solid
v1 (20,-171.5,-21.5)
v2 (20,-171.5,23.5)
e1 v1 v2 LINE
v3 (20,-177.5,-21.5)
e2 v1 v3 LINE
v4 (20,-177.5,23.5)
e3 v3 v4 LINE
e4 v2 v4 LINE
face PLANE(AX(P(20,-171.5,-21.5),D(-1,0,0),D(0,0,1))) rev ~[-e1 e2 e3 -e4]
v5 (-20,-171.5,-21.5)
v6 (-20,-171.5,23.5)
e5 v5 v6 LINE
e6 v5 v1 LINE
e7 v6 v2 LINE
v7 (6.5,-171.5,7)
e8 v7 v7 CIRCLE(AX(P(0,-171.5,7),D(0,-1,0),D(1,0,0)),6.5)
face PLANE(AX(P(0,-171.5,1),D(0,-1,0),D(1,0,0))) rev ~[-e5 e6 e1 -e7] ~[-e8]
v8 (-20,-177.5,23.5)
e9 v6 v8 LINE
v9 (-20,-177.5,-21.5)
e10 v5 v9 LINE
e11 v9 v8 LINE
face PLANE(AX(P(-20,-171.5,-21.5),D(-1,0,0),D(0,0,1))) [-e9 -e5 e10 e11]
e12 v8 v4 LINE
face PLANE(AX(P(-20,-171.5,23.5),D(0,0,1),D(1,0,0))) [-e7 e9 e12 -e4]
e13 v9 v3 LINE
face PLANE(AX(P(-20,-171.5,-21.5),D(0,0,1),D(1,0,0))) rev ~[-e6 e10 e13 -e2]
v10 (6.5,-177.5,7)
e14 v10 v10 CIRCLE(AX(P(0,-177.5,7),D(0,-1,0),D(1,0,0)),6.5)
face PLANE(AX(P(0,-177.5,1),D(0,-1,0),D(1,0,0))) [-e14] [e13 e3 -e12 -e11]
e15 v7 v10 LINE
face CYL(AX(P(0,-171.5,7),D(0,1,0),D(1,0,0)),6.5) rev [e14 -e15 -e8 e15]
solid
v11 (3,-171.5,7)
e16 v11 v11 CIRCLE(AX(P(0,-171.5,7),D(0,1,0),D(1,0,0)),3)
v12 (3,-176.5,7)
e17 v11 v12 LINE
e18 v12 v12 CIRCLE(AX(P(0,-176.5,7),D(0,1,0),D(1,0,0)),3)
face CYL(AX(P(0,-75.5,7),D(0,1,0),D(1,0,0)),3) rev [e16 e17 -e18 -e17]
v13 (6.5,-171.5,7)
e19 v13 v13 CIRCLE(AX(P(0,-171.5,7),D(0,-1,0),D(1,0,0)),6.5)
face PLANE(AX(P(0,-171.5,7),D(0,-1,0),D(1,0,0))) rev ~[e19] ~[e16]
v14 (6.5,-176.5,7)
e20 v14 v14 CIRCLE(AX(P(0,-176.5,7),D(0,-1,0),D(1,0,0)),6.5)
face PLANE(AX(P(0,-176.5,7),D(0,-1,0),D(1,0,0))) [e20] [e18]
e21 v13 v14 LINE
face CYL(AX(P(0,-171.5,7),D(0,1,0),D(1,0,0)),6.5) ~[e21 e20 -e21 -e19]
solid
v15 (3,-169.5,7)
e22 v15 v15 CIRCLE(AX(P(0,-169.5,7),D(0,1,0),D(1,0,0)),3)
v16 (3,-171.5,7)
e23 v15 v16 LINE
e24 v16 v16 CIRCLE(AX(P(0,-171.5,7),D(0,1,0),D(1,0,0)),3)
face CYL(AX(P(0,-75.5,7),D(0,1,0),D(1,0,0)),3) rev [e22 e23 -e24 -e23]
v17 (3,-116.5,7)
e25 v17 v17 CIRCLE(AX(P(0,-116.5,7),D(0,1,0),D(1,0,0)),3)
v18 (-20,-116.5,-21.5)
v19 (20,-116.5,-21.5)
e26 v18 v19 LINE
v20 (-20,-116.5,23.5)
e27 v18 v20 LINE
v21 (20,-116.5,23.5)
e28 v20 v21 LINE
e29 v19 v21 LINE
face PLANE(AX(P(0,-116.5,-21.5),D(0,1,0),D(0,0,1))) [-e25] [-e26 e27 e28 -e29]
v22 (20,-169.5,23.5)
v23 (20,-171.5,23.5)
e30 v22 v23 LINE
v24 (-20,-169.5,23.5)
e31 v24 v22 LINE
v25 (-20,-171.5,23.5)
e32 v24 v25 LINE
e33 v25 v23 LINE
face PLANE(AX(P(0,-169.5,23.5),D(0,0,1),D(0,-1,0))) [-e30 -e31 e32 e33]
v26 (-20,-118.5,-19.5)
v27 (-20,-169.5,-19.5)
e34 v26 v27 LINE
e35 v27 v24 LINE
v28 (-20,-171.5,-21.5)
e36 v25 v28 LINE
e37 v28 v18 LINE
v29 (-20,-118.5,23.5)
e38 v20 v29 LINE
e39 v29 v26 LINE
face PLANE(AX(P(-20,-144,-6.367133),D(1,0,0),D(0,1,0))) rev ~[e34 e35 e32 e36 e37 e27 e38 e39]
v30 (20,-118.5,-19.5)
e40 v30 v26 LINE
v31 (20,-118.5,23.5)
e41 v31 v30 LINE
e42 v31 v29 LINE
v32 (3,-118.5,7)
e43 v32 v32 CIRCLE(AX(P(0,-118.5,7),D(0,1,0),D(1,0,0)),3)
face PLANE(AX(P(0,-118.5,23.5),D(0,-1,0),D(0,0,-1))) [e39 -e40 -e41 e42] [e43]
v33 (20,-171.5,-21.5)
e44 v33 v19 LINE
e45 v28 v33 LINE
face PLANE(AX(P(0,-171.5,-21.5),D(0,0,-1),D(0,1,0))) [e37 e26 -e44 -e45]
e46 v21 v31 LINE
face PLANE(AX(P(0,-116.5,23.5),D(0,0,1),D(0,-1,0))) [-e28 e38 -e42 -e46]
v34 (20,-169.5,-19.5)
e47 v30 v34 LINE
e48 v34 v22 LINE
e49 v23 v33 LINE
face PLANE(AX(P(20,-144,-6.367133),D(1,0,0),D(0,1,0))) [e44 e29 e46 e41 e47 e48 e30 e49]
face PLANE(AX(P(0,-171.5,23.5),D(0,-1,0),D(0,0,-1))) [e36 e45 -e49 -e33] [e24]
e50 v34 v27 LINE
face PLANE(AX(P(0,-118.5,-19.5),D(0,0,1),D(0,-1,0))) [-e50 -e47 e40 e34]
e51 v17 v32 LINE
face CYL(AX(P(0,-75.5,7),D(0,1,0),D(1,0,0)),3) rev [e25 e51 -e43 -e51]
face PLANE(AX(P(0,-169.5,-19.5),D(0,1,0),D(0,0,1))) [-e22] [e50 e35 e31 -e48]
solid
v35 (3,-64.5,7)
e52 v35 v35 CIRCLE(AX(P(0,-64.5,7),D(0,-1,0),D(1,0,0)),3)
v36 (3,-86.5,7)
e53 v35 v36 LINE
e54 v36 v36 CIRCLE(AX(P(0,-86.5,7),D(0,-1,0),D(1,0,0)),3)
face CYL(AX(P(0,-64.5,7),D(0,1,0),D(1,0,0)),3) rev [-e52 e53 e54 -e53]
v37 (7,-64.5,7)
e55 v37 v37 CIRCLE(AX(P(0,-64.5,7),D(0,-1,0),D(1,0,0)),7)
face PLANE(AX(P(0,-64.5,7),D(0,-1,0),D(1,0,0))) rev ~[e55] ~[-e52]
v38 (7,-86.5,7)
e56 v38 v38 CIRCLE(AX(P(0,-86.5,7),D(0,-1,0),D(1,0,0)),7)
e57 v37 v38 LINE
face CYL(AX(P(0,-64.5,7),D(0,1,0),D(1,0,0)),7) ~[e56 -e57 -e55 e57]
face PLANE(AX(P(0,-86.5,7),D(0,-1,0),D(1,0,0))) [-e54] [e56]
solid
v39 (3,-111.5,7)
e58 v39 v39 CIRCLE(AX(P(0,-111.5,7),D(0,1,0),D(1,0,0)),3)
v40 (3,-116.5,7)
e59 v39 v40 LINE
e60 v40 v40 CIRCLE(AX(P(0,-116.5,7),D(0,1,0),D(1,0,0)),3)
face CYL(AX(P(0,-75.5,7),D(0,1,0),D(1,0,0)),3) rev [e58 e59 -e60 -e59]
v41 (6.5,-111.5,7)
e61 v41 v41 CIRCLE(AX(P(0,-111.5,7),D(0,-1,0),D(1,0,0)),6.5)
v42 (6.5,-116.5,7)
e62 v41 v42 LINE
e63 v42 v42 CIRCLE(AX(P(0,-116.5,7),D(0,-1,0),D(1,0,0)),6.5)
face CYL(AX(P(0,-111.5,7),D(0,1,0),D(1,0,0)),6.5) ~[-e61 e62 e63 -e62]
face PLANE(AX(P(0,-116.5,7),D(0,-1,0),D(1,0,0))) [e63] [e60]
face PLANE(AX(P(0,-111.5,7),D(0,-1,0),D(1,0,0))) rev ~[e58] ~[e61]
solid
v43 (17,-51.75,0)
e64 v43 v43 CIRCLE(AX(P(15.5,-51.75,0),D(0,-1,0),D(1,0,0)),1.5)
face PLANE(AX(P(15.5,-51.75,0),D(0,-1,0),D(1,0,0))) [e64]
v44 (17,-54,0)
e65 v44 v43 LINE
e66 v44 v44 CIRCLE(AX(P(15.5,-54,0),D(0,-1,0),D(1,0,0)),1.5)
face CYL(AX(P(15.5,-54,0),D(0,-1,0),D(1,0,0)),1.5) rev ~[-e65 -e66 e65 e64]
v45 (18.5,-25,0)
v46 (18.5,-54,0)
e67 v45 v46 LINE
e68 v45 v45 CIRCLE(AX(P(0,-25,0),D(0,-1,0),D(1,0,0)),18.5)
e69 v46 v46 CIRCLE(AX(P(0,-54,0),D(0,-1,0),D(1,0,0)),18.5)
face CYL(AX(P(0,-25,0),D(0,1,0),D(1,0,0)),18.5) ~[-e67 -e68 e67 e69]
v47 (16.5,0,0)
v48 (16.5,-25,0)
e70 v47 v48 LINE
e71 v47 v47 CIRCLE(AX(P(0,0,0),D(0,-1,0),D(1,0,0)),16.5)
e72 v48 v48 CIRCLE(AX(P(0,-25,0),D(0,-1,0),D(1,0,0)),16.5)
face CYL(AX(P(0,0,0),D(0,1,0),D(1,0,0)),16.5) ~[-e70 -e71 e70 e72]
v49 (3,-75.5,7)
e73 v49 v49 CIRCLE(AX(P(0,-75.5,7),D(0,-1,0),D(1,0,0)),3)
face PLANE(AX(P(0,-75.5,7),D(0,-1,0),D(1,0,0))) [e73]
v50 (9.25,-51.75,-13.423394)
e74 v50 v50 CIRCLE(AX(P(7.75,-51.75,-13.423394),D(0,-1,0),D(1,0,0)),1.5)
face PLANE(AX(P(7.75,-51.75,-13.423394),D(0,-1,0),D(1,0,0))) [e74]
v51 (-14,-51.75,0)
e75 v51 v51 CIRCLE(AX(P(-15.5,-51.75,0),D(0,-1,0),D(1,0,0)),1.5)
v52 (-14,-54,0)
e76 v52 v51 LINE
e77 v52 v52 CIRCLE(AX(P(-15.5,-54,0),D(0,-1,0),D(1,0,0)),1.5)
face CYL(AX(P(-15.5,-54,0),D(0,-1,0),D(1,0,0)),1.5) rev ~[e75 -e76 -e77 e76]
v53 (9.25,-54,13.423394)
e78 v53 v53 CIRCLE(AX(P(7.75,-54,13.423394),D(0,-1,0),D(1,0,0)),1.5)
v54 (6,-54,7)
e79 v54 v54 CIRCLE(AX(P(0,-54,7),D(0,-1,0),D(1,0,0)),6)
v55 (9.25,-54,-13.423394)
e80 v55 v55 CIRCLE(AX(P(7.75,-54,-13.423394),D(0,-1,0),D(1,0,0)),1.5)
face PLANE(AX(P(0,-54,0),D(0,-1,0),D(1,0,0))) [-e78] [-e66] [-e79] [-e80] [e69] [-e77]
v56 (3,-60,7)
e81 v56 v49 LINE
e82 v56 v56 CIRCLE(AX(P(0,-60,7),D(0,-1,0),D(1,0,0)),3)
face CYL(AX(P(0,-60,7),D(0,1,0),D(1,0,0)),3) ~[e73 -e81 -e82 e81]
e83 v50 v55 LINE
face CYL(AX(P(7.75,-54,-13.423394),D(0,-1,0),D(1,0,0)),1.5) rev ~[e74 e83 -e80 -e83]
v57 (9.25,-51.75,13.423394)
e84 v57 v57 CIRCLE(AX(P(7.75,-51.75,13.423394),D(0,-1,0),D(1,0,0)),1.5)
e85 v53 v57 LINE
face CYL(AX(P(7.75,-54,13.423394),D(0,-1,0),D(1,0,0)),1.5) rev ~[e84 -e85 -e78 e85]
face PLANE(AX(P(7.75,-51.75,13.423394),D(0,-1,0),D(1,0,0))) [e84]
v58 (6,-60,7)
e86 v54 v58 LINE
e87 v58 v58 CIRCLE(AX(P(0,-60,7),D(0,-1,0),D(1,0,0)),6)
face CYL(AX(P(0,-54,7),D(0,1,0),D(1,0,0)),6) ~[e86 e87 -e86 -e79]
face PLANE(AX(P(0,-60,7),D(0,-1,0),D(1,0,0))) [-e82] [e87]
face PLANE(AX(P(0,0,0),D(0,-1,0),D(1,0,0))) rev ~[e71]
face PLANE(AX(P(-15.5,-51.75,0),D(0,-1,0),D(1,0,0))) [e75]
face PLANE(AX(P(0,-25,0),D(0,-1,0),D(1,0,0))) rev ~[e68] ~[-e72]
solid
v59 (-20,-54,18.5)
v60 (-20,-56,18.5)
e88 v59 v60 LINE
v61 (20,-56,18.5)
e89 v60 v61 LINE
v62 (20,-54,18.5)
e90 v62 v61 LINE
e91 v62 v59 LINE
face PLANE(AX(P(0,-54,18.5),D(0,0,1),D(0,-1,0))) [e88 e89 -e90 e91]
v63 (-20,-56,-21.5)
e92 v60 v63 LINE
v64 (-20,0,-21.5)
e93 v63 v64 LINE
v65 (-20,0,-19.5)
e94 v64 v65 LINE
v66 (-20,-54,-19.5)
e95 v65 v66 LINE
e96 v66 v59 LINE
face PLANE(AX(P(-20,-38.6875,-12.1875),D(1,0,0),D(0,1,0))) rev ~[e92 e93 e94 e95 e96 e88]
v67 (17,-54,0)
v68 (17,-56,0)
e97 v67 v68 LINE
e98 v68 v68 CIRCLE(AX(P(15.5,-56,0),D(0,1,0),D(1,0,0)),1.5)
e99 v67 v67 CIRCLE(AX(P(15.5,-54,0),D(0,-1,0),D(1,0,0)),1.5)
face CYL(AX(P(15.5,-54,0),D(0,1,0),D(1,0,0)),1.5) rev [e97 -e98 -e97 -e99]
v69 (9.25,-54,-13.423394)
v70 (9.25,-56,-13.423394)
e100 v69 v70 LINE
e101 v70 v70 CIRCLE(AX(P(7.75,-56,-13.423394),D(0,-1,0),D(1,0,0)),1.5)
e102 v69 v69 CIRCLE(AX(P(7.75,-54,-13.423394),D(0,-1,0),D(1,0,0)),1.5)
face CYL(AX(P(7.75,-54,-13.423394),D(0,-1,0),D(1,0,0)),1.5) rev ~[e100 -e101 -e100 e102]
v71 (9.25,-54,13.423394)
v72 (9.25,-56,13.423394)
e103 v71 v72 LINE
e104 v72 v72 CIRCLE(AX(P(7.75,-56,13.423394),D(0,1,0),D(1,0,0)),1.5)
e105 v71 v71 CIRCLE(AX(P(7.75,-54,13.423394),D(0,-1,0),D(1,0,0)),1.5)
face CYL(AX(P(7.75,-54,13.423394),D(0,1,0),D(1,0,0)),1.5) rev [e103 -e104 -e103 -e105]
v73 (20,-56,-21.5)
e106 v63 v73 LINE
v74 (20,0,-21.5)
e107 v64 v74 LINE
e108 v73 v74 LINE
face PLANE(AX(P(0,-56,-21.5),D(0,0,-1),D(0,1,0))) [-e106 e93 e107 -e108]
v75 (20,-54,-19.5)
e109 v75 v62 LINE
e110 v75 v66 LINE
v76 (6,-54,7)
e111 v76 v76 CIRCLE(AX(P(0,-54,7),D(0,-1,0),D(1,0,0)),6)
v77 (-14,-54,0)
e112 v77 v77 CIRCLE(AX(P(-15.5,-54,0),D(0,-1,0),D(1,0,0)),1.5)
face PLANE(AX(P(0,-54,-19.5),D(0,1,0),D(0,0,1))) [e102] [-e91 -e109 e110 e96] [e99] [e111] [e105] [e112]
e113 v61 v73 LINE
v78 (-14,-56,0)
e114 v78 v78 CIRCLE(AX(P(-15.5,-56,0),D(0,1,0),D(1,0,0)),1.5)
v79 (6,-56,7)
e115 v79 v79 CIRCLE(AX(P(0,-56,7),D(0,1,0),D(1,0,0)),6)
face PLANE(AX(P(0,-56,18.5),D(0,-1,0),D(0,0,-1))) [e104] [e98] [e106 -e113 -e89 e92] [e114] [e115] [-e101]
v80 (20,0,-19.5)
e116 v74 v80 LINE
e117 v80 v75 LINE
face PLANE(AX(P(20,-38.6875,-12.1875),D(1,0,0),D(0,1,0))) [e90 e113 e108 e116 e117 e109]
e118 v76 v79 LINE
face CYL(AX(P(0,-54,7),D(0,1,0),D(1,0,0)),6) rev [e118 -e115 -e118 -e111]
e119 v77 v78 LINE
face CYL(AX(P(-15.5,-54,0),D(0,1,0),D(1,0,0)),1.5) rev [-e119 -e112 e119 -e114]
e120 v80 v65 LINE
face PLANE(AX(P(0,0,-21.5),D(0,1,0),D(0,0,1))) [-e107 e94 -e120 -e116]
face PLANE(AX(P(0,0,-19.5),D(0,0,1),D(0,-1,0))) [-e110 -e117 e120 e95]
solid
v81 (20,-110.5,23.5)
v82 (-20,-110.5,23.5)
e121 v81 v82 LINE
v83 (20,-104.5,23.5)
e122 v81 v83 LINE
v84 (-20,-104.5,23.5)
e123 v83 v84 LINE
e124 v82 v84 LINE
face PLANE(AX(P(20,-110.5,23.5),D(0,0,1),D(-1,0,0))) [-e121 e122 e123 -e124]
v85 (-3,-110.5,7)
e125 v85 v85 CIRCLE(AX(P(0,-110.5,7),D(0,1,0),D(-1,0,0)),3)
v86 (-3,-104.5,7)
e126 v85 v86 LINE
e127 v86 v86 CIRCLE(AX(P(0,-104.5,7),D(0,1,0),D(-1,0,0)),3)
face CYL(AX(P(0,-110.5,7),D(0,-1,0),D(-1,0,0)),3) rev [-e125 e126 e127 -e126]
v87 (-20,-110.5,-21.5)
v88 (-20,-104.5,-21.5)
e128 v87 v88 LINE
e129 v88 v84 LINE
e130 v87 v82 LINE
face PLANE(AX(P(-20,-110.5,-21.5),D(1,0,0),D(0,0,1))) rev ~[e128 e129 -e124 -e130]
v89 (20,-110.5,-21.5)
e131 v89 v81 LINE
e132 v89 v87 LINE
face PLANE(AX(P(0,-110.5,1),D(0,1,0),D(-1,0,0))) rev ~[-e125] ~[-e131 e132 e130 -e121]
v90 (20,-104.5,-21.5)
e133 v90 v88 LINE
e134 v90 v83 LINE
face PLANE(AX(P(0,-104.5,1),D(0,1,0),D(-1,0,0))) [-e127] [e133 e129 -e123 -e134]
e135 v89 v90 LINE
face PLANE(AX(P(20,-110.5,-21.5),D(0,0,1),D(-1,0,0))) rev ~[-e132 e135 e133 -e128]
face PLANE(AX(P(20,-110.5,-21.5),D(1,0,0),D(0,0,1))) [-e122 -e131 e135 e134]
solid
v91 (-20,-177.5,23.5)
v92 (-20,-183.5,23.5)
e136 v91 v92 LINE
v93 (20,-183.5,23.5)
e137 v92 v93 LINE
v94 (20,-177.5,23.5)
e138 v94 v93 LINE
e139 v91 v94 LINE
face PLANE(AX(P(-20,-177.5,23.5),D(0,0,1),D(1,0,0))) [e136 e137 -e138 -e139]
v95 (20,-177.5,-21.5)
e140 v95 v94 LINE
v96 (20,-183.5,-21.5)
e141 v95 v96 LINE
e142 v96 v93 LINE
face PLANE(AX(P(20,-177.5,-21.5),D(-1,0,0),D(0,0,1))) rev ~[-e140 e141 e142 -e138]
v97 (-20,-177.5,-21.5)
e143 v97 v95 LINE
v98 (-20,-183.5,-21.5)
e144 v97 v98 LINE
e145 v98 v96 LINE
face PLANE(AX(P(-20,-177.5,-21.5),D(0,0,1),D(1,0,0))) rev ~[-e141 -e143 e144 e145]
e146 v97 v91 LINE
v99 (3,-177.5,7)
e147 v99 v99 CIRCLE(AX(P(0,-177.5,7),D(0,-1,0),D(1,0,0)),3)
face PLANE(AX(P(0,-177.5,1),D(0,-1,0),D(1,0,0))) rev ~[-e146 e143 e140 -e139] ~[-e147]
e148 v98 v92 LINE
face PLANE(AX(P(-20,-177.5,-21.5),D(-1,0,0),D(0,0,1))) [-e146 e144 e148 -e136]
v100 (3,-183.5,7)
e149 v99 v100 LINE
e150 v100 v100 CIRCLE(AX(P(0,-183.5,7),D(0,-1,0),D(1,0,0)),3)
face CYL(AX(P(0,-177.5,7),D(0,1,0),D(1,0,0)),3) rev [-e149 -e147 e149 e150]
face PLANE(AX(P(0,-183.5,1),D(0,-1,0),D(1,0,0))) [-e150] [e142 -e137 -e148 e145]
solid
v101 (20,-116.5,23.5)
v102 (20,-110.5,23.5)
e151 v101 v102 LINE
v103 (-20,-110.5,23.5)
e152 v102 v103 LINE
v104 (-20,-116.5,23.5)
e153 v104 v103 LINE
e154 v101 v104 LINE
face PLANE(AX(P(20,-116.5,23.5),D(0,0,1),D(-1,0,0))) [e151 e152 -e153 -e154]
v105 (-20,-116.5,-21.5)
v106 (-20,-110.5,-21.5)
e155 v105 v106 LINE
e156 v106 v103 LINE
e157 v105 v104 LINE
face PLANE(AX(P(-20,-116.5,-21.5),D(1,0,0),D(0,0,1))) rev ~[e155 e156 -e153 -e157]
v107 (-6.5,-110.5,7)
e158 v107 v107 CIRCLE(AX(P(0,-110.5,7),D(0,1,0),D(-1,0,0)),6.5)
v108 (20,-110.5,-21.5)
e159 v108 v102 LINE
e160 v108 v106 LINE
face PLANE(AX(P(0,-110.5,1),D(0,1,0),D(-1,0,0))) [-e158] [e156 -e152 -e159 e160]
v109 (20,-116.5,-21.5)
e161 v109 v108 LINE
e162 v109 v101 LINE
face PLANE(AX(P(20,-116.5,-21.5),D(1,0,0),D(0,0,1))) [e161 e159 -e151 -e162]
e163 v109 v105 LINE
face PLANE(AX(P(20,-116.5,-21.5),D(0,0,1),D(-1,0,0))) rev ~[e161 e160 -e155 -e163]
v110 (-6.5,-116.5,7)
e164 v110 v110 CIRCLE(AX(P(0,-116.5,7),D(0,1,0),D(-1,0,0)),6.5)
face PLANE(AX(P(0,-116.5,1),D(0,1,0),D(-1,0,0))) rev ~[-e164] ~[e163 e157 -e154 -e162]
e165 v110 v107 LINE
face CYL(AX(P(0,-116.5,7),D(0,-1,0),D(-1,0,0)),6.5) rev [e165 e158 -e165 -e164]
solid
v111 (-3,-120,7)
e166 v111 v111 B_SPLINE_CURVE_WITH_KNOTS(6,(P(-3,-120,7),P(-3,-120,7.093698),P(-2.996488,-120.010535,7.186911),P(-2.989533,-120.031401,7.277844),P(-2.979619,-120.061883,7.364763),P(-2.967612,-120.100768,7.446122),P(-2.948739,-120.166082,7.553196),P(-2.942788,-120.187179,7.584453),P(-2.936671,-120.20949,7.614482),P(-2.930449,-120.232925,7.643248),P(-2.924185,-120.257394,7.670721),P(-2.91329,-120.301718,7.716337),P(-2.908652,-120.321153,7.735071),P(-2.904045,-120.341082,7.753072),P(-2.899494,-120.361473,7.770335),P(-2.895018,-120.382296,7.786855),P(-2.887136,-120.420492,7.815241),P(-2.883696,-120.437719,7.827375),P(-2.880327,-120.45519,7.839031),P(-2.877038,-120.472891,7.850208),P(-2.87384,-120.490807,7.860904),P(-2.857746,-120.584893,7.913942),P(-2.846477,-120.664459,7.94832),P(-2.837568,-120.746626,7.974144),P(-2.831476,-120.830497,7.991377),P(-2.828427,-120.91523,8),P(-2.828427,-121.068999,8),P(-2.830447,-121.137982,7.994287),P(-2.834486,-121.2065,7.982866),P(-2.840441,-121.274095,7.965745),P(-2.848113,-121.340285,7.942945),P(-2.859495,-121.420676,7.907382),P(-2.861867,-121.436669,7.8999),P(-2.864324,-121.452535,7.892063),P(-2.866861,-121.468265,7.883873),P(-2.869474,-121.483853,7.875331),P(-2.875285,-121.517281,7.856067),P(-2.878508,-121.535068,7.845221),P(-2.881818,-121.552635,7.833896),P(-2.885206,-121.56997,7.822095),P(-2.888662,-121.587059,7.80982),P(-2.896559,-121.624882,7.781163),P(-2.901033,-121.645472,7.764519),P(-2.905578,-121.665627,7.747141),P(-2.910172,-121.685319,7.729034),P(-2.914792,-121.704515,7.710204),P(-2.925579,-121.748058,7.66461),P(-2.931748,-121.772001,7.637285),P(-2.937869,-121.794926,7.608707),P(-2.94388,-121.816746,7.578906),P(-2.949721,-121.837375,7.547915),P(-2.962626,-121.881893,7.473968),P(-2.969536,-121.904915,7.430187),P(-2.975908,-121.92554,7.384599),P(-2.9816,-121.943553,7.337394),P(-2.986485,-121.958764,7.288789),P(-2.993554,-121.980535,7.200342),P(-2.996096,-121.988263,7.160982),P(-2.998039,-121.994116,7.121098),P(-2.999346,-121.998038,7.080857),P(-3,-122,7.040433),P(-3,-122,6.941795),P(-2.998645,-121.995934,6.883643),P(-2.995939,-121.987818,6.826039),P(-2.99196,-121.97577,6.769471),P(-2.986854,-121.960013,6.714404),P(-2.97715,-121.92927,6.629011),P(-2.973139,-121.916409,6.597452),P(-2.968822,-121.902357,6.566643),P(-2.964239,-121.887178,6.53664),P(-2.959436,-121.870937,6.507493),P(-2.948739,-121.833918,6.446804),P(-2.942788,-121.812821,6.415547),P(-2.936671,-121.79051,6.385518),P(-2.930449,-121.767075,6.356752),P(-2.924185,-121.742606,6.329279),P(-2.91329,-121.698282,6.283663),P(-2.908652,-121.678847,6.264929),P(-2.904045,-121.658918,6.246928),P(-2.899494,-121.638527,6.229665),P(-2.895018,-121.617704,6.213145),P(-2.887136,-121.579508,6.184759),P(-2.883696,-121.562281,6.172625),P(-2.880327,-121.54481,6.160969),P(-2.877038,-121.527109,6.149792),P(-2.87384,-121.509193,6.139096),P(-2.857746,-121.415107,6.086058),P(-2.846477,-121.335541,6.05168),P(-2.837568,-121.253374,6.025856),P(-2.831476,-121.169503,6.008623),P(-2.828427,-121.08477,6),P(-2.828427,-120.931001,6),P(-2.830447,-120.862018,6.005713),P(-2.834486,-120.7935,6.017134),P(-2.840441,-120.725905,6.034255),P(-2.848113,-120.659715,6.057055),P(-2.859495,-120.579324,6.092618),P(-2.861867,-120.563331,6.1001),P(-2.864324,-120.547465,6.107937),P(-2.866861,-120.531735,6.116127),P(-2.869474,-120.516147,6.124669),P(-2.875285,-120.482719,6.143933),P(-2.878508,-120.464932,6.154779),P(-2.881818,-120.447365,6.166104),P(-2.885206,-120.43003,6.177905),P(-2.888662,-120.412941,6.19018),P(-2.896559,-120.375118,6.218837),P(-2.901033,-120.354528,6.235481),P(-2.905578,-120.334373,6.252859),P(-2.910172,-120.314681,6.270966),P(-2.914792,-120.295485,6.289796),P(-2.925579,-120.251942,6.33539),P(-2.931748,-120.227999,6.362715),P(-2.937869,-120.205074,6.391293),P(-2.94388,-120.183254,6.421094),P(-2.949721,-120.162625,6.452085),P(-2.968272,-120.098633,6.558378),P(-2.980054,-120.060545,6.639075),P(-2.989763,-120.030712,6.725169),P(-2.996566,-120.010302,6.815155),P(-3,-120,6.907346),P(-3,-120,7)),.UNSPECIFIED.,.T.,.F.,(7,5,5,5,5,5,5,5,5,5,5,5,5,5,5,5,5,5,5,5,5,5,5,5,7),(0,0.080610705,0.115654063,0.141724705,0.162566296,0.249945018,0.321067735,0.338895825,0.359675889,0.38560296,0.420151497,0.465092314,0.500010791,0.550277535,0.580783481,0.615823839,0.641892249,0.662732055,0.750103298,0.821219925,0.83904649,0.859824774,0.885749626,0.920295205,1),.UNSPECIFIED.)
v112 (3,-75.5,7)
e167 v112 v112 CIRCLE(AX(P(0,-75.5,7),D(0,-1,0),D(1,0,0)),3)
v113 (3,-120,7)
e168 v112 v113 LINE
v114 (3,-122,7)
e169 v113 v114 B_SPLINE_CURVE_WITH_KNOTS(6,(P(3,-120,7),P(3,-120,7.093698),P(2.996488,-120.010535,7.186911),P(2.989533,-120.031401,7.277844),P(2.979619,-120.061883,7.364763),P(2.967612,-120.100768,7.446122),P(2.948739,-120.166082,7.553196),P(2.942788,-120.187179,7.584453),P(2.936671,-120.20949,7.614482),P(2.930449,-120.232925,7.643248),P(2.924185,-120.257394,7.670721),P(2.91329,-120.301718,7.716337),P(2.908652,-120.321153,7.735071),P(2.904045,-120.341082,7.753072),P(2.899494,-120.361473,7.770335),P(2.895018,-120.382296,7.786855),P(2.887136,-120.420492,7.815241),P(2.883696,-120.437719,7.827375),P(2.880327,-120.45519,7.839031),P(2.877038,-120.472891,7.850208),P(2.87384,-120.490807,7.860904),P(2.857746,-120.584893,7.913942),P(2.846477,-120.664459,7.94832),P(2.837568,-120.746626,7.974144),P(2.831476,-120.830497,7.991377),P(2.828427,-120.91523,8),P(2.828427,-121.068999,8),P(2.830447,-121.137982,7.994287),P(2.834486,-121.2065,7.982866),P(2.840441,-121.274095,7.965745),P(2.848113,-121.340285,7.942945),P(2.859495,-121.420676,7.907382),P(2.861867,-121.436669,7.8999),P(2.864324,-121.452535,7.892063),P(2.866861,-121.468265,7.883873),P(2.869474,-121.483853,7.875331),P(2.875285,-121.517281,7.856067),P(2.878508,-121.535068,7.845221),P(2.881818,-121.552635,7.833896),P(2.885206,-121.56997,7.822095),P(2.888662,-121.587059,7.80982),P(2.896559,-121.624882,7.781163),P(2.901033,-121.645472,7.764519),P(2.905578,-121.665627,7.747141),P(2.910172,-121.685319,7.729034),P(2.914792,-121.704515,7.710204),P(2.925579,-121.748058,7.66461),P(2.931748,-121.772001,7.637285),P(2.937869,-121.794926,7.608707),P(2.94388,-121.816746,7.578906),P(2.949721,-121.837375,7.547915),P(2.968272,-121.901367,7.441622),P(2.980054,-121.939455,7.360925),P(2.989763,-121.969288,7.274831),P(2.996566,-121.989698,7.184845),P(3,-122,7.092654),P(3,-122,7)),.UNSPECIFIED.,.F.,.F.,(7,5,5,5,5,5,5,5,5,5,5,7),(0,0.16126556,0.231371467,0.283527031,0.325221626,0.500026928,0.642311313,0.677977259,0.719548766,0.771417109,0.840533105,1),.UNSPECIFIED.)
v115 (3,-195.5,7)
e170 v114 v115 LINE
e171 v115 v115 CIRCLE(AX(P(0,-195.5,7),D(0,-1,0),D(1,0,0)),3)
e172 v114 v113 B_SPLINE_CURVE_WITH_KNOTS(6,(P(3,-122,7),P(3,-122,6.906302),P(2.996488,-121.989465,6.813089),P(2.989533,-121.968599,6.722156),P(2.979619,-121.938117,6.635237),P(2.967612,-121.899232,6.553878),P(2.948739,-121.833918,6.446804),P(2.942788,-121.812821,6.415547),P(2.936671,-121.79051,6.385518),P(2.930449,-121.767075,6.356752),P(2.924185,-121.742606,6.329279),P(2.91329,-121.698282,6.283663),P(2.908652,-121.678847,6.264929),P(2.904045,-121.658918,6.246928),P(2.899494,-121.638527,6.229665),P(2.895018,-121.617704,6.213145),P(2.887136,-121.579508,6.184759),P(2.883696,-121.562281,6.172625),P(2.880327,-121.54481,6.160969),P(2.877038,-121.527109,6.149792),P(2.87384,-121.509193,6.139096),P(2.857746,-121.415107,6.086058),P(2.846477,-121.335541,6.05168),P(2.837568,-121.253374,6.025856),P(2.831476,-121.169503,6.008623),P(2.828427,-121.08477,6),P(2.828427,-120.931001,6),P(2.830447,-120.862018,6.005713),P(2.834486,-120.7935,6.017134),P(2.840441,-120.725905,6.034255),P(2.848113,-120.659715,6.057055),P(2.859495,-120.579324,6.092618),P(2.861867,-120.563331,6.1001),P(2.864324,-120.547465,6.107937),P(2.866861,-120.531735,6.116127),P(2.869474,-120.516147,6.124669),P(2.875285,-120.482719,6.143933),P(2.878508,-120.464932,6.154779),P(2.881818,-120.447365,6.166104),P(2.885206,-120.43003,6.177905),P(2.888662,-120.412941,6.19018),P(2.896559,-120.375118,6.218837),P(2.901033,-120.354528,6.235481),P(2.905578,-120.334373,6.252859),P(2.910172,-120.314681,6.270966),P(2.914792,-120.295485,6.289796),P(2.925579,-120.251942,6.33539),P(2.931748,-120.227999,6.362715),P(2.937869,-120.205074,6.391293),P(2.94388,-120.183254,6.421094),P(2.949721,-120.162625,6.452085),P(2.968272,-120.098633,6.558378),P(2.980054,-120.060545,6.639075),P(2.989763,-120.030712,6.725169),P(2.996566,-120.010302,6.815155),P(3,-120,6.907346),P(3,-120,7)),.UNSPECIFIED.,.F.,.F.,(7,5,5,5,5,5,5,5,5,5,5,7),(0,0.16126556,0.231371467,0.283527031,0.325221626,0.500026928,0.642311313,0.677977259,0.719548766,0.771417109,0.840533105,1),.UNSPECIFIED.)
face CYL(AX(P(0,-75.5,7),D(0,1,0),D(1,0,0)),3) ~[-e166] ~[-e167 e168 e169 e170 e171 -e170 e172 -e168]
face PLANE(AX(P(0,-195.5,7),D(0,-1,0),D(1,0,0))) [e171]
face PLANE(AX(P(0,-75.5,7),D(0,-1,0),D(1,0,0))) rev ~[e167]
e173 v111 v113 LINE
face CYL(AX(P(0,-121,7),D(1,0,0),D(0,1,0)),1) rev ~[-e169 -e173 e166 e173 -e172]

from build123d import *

# Parameters (mm, degrees)
F0_R      = 16.5
F1_DEPTH  = 25
F2_R      = 18.5
F3_DEPTH  = 29
F4_R      = 6
F5_DEPTH  = 6
F6_R      = 3
F7_DEPTH  = 15.5
F11_DEPTH = 20
F8_R      = 1.5
F12_DEPTH = 2.25
F15_R     = 7
F15_R_2   = 3
F16_DEPTH = 22
F17_R     = 3
F18_DEPTH = 120
F20_R     = 6.5
F21_DEPTH = 5
F24_DEPTH = 20
F26_W     = 40
F26_H     = 45
F26_R     = 6.5
F27_DEPTH = 6
F28_W     = 40
F28_H     = 45
F28_R     = 3
F29_DEPTH = 6
F30_W     = 40
F30_H     = 45
F30_R     = 6.5
F31_DEPTH = 6
F32_W     = 40
F32_H     = 45
F32_R     = 3
F33_DEPTH = 6
F34_R     = 1
F35_DEPTH = 12.5


with BuildPart() as f1:
    # F0 (on Front) → F1 (new body)
    with BuildSketch(Plane.XZ):
        Circle(F0_R)
    extrude(amount=F1_DEPTH)

    # F2 (on face) → F3 (join)
    with BuildSketch(Plane.XZ.offset(25)):
        Circle(F2_R)
    extrude(amount=F3_DEPTH)

    # F4 (on face) → F5 (join)
    with BuildSketch(Plane.XZ.offset(54)):
        with Locations((0, 7)):
            Circle(F4_R)
    extrude(amount=F5_DEPTH)

    # F6 (on face) → F7 (join)
    with BuildSketch(Plane.XZ.offset(60)):
        with Locations((0, 7)):
            Circle(F6_R)
    extrude(amount=F7_DEPTH)


with BuildPart() as f11:
    # F10 (on Right) → F11 (new body, symmetric)
    with BuildSketch(Plane.YZ):
        Polygon((-54, 18.5), (-56, 18.5), (-56, -21.5), (0, -21.5), (0, -19.5), (-54, -19.5), align=None)
    extrude(amount=F11_DEPTH, both=True)


with BuildPart() as f12_tool:
    # F8 (on face) → F12 (new body, symmetric)
    with BuildSketch(Plane.XZ.offset(54)):
        with Locations((-15.5, 0)):
            Circle(F8_R)
        with Locations((7.75, 13.4233937587)):
            Circle(F8_R)
        with Locations((15.5, 0)):
            Circle(F8_R)
        with Locations((7.75, -13.4233937587)):
            Circle(F8_R)
    extrude(amount=F12_DEPTH, both=True)


with BuildPart() as f1_1:
    add(f1.part)

    # F12: cut by f12_tool
    add(f12_tool.part, mode=Mode.SUBTRACT)


with BuildPart() as f11_1:
    add(f11.part)

    # F12: cut by f12_tool
    add(f12_tool.part, mode=Mode.SUBTRACT)

    # F13: cut F1
    add(f1_1.part, mode=Mode.SUBTRACT)


with BuildPart() as f16:
    # F15 (on offset) → F16 (new body)
    with BuildSketch(Plane.XZ.offset(64.5)):
        with Locations((0, 7)):
            Circle(F15_R)
        with Locations((0, 7)):
            Circle(F15_R_2, mode=Mode.SUBTRACT)
    extrude(amount=F16_DEPTH)


with BuildPart() as f18:
    # F17 (on face) → F18 (new body)
    with BuildSketch(Plane.XZ.offset(75.5)):
        with Locations((0, 7)):
            Circle(F17_R)
    extrude(amount=F18_DEPTH)


with BuildPart() as f21:
    # F20 (on offset) → F21 (new body)
    with BuildSketch(Plane.XZ.offset(111.5)):
        with Locations((0, 7)):
            Circle(F20_R)
    extrude(amount=F21_DEPTH)


with BuildPart() as f22_1:
    # F22: copy of F21
    add(f21.part.moved(Location((0, -60, 0))))

    # F25: cut F18
    add(f18.part, mode=Mode.SUBTRACT)


with BuildPart() as f24:
    # F23 (on Right) → F24 (new body, symmetric)
    with BuildSketch(Plane.YZ):
        Polygon((-169.5, -19.5), (-169.5, 23.5), (-171.5, 23.5), (-171.5, -21.5), (-116.5, -21.5), (-116.5, 23.5), (-118.5, 23.5), (-118.5, -19.5), align=None)
    extrude(amount=F24_DEPTH, both=True)

    # F25: cut F18
    add(f18.part, mode=Mode.SUBTRACT)


with BuildPart() as f21_1:
    add(f21.part)

    # F25: cut F18
    add(f18.part, mode=Mode.SUBTRACT)


with BuildPart() as f27:
    # F26 (on face) → F27 (new body)
    with BuildSketch(Plane.XZ.offset(171.5)):
        with Locations((0, 1)):
            Rectangle(F26_W, F26_H)
        with Locations((0, 7)):
            Circle(F26_R, mode=Mode.SUBTRACT)
    extrude(amount=F27_DEPTH)


with BuildPart() as f29:
    # F28 (on face) → F29 (new body)
    with BuildSketch(Plane.XZ.offset(177.5)):
        with Locations((0, 1)):
            Rectangle(F28_W, F28_H)
        with Locations((0, 7)):
            Circle(F28_R, mode=Mode.SUBTRACT)
    extrude(amount=F29_DEPTH)


with BuildPart() as f31:
    # F30 (on face) → F31 (new body)
    with BuildSketch(Plane(origin=(0, -116.5, 0), x_dir=(-1, 0, 0), z_dir=(0, 1, 0))):
        with Locations((0, 1)):
            Rectangle(F30_W, F30_H)
        with Locations((0, 7)):
            Circle(F30_R, mode=Mode.SUBTRACT)
    extrude(amount=F31_DEPTH)


with BuildPart() as f33:
    # F32 (on face) → F33 (new body)
    with BuildSketch(Plane(origin=(0, -110.5, 0), x_dir=(-1, 0, 0), z_dir=(0, 1, 0))):
        with Locations((0, 1)):
            Rectangle(F32_W, F32_H)
        with Locations((0, 7)):
            Circle(F32_R, mode=Mode.SUBTRACT)
    extrude(amount=F33_DEPTH)


with BuildPart() as f18_1:
    add(f18.part)

    # F34 (on Right) → F35 (cut, symmetric)
    with BuildSketch(Plane.YZ):
        with Locations((-121, 7)):
            Circle(F34_R)
    extrude(amount=F35_DEPTH, both=True, mode=Mode.SUBTRACT)


solid = Compound([f1_1.part, f11_1.part, f16.part, f22_1.part, f24.part, f21_1.part, f27.part, f29.part, f31.part, f33.part, f18_1.part])
